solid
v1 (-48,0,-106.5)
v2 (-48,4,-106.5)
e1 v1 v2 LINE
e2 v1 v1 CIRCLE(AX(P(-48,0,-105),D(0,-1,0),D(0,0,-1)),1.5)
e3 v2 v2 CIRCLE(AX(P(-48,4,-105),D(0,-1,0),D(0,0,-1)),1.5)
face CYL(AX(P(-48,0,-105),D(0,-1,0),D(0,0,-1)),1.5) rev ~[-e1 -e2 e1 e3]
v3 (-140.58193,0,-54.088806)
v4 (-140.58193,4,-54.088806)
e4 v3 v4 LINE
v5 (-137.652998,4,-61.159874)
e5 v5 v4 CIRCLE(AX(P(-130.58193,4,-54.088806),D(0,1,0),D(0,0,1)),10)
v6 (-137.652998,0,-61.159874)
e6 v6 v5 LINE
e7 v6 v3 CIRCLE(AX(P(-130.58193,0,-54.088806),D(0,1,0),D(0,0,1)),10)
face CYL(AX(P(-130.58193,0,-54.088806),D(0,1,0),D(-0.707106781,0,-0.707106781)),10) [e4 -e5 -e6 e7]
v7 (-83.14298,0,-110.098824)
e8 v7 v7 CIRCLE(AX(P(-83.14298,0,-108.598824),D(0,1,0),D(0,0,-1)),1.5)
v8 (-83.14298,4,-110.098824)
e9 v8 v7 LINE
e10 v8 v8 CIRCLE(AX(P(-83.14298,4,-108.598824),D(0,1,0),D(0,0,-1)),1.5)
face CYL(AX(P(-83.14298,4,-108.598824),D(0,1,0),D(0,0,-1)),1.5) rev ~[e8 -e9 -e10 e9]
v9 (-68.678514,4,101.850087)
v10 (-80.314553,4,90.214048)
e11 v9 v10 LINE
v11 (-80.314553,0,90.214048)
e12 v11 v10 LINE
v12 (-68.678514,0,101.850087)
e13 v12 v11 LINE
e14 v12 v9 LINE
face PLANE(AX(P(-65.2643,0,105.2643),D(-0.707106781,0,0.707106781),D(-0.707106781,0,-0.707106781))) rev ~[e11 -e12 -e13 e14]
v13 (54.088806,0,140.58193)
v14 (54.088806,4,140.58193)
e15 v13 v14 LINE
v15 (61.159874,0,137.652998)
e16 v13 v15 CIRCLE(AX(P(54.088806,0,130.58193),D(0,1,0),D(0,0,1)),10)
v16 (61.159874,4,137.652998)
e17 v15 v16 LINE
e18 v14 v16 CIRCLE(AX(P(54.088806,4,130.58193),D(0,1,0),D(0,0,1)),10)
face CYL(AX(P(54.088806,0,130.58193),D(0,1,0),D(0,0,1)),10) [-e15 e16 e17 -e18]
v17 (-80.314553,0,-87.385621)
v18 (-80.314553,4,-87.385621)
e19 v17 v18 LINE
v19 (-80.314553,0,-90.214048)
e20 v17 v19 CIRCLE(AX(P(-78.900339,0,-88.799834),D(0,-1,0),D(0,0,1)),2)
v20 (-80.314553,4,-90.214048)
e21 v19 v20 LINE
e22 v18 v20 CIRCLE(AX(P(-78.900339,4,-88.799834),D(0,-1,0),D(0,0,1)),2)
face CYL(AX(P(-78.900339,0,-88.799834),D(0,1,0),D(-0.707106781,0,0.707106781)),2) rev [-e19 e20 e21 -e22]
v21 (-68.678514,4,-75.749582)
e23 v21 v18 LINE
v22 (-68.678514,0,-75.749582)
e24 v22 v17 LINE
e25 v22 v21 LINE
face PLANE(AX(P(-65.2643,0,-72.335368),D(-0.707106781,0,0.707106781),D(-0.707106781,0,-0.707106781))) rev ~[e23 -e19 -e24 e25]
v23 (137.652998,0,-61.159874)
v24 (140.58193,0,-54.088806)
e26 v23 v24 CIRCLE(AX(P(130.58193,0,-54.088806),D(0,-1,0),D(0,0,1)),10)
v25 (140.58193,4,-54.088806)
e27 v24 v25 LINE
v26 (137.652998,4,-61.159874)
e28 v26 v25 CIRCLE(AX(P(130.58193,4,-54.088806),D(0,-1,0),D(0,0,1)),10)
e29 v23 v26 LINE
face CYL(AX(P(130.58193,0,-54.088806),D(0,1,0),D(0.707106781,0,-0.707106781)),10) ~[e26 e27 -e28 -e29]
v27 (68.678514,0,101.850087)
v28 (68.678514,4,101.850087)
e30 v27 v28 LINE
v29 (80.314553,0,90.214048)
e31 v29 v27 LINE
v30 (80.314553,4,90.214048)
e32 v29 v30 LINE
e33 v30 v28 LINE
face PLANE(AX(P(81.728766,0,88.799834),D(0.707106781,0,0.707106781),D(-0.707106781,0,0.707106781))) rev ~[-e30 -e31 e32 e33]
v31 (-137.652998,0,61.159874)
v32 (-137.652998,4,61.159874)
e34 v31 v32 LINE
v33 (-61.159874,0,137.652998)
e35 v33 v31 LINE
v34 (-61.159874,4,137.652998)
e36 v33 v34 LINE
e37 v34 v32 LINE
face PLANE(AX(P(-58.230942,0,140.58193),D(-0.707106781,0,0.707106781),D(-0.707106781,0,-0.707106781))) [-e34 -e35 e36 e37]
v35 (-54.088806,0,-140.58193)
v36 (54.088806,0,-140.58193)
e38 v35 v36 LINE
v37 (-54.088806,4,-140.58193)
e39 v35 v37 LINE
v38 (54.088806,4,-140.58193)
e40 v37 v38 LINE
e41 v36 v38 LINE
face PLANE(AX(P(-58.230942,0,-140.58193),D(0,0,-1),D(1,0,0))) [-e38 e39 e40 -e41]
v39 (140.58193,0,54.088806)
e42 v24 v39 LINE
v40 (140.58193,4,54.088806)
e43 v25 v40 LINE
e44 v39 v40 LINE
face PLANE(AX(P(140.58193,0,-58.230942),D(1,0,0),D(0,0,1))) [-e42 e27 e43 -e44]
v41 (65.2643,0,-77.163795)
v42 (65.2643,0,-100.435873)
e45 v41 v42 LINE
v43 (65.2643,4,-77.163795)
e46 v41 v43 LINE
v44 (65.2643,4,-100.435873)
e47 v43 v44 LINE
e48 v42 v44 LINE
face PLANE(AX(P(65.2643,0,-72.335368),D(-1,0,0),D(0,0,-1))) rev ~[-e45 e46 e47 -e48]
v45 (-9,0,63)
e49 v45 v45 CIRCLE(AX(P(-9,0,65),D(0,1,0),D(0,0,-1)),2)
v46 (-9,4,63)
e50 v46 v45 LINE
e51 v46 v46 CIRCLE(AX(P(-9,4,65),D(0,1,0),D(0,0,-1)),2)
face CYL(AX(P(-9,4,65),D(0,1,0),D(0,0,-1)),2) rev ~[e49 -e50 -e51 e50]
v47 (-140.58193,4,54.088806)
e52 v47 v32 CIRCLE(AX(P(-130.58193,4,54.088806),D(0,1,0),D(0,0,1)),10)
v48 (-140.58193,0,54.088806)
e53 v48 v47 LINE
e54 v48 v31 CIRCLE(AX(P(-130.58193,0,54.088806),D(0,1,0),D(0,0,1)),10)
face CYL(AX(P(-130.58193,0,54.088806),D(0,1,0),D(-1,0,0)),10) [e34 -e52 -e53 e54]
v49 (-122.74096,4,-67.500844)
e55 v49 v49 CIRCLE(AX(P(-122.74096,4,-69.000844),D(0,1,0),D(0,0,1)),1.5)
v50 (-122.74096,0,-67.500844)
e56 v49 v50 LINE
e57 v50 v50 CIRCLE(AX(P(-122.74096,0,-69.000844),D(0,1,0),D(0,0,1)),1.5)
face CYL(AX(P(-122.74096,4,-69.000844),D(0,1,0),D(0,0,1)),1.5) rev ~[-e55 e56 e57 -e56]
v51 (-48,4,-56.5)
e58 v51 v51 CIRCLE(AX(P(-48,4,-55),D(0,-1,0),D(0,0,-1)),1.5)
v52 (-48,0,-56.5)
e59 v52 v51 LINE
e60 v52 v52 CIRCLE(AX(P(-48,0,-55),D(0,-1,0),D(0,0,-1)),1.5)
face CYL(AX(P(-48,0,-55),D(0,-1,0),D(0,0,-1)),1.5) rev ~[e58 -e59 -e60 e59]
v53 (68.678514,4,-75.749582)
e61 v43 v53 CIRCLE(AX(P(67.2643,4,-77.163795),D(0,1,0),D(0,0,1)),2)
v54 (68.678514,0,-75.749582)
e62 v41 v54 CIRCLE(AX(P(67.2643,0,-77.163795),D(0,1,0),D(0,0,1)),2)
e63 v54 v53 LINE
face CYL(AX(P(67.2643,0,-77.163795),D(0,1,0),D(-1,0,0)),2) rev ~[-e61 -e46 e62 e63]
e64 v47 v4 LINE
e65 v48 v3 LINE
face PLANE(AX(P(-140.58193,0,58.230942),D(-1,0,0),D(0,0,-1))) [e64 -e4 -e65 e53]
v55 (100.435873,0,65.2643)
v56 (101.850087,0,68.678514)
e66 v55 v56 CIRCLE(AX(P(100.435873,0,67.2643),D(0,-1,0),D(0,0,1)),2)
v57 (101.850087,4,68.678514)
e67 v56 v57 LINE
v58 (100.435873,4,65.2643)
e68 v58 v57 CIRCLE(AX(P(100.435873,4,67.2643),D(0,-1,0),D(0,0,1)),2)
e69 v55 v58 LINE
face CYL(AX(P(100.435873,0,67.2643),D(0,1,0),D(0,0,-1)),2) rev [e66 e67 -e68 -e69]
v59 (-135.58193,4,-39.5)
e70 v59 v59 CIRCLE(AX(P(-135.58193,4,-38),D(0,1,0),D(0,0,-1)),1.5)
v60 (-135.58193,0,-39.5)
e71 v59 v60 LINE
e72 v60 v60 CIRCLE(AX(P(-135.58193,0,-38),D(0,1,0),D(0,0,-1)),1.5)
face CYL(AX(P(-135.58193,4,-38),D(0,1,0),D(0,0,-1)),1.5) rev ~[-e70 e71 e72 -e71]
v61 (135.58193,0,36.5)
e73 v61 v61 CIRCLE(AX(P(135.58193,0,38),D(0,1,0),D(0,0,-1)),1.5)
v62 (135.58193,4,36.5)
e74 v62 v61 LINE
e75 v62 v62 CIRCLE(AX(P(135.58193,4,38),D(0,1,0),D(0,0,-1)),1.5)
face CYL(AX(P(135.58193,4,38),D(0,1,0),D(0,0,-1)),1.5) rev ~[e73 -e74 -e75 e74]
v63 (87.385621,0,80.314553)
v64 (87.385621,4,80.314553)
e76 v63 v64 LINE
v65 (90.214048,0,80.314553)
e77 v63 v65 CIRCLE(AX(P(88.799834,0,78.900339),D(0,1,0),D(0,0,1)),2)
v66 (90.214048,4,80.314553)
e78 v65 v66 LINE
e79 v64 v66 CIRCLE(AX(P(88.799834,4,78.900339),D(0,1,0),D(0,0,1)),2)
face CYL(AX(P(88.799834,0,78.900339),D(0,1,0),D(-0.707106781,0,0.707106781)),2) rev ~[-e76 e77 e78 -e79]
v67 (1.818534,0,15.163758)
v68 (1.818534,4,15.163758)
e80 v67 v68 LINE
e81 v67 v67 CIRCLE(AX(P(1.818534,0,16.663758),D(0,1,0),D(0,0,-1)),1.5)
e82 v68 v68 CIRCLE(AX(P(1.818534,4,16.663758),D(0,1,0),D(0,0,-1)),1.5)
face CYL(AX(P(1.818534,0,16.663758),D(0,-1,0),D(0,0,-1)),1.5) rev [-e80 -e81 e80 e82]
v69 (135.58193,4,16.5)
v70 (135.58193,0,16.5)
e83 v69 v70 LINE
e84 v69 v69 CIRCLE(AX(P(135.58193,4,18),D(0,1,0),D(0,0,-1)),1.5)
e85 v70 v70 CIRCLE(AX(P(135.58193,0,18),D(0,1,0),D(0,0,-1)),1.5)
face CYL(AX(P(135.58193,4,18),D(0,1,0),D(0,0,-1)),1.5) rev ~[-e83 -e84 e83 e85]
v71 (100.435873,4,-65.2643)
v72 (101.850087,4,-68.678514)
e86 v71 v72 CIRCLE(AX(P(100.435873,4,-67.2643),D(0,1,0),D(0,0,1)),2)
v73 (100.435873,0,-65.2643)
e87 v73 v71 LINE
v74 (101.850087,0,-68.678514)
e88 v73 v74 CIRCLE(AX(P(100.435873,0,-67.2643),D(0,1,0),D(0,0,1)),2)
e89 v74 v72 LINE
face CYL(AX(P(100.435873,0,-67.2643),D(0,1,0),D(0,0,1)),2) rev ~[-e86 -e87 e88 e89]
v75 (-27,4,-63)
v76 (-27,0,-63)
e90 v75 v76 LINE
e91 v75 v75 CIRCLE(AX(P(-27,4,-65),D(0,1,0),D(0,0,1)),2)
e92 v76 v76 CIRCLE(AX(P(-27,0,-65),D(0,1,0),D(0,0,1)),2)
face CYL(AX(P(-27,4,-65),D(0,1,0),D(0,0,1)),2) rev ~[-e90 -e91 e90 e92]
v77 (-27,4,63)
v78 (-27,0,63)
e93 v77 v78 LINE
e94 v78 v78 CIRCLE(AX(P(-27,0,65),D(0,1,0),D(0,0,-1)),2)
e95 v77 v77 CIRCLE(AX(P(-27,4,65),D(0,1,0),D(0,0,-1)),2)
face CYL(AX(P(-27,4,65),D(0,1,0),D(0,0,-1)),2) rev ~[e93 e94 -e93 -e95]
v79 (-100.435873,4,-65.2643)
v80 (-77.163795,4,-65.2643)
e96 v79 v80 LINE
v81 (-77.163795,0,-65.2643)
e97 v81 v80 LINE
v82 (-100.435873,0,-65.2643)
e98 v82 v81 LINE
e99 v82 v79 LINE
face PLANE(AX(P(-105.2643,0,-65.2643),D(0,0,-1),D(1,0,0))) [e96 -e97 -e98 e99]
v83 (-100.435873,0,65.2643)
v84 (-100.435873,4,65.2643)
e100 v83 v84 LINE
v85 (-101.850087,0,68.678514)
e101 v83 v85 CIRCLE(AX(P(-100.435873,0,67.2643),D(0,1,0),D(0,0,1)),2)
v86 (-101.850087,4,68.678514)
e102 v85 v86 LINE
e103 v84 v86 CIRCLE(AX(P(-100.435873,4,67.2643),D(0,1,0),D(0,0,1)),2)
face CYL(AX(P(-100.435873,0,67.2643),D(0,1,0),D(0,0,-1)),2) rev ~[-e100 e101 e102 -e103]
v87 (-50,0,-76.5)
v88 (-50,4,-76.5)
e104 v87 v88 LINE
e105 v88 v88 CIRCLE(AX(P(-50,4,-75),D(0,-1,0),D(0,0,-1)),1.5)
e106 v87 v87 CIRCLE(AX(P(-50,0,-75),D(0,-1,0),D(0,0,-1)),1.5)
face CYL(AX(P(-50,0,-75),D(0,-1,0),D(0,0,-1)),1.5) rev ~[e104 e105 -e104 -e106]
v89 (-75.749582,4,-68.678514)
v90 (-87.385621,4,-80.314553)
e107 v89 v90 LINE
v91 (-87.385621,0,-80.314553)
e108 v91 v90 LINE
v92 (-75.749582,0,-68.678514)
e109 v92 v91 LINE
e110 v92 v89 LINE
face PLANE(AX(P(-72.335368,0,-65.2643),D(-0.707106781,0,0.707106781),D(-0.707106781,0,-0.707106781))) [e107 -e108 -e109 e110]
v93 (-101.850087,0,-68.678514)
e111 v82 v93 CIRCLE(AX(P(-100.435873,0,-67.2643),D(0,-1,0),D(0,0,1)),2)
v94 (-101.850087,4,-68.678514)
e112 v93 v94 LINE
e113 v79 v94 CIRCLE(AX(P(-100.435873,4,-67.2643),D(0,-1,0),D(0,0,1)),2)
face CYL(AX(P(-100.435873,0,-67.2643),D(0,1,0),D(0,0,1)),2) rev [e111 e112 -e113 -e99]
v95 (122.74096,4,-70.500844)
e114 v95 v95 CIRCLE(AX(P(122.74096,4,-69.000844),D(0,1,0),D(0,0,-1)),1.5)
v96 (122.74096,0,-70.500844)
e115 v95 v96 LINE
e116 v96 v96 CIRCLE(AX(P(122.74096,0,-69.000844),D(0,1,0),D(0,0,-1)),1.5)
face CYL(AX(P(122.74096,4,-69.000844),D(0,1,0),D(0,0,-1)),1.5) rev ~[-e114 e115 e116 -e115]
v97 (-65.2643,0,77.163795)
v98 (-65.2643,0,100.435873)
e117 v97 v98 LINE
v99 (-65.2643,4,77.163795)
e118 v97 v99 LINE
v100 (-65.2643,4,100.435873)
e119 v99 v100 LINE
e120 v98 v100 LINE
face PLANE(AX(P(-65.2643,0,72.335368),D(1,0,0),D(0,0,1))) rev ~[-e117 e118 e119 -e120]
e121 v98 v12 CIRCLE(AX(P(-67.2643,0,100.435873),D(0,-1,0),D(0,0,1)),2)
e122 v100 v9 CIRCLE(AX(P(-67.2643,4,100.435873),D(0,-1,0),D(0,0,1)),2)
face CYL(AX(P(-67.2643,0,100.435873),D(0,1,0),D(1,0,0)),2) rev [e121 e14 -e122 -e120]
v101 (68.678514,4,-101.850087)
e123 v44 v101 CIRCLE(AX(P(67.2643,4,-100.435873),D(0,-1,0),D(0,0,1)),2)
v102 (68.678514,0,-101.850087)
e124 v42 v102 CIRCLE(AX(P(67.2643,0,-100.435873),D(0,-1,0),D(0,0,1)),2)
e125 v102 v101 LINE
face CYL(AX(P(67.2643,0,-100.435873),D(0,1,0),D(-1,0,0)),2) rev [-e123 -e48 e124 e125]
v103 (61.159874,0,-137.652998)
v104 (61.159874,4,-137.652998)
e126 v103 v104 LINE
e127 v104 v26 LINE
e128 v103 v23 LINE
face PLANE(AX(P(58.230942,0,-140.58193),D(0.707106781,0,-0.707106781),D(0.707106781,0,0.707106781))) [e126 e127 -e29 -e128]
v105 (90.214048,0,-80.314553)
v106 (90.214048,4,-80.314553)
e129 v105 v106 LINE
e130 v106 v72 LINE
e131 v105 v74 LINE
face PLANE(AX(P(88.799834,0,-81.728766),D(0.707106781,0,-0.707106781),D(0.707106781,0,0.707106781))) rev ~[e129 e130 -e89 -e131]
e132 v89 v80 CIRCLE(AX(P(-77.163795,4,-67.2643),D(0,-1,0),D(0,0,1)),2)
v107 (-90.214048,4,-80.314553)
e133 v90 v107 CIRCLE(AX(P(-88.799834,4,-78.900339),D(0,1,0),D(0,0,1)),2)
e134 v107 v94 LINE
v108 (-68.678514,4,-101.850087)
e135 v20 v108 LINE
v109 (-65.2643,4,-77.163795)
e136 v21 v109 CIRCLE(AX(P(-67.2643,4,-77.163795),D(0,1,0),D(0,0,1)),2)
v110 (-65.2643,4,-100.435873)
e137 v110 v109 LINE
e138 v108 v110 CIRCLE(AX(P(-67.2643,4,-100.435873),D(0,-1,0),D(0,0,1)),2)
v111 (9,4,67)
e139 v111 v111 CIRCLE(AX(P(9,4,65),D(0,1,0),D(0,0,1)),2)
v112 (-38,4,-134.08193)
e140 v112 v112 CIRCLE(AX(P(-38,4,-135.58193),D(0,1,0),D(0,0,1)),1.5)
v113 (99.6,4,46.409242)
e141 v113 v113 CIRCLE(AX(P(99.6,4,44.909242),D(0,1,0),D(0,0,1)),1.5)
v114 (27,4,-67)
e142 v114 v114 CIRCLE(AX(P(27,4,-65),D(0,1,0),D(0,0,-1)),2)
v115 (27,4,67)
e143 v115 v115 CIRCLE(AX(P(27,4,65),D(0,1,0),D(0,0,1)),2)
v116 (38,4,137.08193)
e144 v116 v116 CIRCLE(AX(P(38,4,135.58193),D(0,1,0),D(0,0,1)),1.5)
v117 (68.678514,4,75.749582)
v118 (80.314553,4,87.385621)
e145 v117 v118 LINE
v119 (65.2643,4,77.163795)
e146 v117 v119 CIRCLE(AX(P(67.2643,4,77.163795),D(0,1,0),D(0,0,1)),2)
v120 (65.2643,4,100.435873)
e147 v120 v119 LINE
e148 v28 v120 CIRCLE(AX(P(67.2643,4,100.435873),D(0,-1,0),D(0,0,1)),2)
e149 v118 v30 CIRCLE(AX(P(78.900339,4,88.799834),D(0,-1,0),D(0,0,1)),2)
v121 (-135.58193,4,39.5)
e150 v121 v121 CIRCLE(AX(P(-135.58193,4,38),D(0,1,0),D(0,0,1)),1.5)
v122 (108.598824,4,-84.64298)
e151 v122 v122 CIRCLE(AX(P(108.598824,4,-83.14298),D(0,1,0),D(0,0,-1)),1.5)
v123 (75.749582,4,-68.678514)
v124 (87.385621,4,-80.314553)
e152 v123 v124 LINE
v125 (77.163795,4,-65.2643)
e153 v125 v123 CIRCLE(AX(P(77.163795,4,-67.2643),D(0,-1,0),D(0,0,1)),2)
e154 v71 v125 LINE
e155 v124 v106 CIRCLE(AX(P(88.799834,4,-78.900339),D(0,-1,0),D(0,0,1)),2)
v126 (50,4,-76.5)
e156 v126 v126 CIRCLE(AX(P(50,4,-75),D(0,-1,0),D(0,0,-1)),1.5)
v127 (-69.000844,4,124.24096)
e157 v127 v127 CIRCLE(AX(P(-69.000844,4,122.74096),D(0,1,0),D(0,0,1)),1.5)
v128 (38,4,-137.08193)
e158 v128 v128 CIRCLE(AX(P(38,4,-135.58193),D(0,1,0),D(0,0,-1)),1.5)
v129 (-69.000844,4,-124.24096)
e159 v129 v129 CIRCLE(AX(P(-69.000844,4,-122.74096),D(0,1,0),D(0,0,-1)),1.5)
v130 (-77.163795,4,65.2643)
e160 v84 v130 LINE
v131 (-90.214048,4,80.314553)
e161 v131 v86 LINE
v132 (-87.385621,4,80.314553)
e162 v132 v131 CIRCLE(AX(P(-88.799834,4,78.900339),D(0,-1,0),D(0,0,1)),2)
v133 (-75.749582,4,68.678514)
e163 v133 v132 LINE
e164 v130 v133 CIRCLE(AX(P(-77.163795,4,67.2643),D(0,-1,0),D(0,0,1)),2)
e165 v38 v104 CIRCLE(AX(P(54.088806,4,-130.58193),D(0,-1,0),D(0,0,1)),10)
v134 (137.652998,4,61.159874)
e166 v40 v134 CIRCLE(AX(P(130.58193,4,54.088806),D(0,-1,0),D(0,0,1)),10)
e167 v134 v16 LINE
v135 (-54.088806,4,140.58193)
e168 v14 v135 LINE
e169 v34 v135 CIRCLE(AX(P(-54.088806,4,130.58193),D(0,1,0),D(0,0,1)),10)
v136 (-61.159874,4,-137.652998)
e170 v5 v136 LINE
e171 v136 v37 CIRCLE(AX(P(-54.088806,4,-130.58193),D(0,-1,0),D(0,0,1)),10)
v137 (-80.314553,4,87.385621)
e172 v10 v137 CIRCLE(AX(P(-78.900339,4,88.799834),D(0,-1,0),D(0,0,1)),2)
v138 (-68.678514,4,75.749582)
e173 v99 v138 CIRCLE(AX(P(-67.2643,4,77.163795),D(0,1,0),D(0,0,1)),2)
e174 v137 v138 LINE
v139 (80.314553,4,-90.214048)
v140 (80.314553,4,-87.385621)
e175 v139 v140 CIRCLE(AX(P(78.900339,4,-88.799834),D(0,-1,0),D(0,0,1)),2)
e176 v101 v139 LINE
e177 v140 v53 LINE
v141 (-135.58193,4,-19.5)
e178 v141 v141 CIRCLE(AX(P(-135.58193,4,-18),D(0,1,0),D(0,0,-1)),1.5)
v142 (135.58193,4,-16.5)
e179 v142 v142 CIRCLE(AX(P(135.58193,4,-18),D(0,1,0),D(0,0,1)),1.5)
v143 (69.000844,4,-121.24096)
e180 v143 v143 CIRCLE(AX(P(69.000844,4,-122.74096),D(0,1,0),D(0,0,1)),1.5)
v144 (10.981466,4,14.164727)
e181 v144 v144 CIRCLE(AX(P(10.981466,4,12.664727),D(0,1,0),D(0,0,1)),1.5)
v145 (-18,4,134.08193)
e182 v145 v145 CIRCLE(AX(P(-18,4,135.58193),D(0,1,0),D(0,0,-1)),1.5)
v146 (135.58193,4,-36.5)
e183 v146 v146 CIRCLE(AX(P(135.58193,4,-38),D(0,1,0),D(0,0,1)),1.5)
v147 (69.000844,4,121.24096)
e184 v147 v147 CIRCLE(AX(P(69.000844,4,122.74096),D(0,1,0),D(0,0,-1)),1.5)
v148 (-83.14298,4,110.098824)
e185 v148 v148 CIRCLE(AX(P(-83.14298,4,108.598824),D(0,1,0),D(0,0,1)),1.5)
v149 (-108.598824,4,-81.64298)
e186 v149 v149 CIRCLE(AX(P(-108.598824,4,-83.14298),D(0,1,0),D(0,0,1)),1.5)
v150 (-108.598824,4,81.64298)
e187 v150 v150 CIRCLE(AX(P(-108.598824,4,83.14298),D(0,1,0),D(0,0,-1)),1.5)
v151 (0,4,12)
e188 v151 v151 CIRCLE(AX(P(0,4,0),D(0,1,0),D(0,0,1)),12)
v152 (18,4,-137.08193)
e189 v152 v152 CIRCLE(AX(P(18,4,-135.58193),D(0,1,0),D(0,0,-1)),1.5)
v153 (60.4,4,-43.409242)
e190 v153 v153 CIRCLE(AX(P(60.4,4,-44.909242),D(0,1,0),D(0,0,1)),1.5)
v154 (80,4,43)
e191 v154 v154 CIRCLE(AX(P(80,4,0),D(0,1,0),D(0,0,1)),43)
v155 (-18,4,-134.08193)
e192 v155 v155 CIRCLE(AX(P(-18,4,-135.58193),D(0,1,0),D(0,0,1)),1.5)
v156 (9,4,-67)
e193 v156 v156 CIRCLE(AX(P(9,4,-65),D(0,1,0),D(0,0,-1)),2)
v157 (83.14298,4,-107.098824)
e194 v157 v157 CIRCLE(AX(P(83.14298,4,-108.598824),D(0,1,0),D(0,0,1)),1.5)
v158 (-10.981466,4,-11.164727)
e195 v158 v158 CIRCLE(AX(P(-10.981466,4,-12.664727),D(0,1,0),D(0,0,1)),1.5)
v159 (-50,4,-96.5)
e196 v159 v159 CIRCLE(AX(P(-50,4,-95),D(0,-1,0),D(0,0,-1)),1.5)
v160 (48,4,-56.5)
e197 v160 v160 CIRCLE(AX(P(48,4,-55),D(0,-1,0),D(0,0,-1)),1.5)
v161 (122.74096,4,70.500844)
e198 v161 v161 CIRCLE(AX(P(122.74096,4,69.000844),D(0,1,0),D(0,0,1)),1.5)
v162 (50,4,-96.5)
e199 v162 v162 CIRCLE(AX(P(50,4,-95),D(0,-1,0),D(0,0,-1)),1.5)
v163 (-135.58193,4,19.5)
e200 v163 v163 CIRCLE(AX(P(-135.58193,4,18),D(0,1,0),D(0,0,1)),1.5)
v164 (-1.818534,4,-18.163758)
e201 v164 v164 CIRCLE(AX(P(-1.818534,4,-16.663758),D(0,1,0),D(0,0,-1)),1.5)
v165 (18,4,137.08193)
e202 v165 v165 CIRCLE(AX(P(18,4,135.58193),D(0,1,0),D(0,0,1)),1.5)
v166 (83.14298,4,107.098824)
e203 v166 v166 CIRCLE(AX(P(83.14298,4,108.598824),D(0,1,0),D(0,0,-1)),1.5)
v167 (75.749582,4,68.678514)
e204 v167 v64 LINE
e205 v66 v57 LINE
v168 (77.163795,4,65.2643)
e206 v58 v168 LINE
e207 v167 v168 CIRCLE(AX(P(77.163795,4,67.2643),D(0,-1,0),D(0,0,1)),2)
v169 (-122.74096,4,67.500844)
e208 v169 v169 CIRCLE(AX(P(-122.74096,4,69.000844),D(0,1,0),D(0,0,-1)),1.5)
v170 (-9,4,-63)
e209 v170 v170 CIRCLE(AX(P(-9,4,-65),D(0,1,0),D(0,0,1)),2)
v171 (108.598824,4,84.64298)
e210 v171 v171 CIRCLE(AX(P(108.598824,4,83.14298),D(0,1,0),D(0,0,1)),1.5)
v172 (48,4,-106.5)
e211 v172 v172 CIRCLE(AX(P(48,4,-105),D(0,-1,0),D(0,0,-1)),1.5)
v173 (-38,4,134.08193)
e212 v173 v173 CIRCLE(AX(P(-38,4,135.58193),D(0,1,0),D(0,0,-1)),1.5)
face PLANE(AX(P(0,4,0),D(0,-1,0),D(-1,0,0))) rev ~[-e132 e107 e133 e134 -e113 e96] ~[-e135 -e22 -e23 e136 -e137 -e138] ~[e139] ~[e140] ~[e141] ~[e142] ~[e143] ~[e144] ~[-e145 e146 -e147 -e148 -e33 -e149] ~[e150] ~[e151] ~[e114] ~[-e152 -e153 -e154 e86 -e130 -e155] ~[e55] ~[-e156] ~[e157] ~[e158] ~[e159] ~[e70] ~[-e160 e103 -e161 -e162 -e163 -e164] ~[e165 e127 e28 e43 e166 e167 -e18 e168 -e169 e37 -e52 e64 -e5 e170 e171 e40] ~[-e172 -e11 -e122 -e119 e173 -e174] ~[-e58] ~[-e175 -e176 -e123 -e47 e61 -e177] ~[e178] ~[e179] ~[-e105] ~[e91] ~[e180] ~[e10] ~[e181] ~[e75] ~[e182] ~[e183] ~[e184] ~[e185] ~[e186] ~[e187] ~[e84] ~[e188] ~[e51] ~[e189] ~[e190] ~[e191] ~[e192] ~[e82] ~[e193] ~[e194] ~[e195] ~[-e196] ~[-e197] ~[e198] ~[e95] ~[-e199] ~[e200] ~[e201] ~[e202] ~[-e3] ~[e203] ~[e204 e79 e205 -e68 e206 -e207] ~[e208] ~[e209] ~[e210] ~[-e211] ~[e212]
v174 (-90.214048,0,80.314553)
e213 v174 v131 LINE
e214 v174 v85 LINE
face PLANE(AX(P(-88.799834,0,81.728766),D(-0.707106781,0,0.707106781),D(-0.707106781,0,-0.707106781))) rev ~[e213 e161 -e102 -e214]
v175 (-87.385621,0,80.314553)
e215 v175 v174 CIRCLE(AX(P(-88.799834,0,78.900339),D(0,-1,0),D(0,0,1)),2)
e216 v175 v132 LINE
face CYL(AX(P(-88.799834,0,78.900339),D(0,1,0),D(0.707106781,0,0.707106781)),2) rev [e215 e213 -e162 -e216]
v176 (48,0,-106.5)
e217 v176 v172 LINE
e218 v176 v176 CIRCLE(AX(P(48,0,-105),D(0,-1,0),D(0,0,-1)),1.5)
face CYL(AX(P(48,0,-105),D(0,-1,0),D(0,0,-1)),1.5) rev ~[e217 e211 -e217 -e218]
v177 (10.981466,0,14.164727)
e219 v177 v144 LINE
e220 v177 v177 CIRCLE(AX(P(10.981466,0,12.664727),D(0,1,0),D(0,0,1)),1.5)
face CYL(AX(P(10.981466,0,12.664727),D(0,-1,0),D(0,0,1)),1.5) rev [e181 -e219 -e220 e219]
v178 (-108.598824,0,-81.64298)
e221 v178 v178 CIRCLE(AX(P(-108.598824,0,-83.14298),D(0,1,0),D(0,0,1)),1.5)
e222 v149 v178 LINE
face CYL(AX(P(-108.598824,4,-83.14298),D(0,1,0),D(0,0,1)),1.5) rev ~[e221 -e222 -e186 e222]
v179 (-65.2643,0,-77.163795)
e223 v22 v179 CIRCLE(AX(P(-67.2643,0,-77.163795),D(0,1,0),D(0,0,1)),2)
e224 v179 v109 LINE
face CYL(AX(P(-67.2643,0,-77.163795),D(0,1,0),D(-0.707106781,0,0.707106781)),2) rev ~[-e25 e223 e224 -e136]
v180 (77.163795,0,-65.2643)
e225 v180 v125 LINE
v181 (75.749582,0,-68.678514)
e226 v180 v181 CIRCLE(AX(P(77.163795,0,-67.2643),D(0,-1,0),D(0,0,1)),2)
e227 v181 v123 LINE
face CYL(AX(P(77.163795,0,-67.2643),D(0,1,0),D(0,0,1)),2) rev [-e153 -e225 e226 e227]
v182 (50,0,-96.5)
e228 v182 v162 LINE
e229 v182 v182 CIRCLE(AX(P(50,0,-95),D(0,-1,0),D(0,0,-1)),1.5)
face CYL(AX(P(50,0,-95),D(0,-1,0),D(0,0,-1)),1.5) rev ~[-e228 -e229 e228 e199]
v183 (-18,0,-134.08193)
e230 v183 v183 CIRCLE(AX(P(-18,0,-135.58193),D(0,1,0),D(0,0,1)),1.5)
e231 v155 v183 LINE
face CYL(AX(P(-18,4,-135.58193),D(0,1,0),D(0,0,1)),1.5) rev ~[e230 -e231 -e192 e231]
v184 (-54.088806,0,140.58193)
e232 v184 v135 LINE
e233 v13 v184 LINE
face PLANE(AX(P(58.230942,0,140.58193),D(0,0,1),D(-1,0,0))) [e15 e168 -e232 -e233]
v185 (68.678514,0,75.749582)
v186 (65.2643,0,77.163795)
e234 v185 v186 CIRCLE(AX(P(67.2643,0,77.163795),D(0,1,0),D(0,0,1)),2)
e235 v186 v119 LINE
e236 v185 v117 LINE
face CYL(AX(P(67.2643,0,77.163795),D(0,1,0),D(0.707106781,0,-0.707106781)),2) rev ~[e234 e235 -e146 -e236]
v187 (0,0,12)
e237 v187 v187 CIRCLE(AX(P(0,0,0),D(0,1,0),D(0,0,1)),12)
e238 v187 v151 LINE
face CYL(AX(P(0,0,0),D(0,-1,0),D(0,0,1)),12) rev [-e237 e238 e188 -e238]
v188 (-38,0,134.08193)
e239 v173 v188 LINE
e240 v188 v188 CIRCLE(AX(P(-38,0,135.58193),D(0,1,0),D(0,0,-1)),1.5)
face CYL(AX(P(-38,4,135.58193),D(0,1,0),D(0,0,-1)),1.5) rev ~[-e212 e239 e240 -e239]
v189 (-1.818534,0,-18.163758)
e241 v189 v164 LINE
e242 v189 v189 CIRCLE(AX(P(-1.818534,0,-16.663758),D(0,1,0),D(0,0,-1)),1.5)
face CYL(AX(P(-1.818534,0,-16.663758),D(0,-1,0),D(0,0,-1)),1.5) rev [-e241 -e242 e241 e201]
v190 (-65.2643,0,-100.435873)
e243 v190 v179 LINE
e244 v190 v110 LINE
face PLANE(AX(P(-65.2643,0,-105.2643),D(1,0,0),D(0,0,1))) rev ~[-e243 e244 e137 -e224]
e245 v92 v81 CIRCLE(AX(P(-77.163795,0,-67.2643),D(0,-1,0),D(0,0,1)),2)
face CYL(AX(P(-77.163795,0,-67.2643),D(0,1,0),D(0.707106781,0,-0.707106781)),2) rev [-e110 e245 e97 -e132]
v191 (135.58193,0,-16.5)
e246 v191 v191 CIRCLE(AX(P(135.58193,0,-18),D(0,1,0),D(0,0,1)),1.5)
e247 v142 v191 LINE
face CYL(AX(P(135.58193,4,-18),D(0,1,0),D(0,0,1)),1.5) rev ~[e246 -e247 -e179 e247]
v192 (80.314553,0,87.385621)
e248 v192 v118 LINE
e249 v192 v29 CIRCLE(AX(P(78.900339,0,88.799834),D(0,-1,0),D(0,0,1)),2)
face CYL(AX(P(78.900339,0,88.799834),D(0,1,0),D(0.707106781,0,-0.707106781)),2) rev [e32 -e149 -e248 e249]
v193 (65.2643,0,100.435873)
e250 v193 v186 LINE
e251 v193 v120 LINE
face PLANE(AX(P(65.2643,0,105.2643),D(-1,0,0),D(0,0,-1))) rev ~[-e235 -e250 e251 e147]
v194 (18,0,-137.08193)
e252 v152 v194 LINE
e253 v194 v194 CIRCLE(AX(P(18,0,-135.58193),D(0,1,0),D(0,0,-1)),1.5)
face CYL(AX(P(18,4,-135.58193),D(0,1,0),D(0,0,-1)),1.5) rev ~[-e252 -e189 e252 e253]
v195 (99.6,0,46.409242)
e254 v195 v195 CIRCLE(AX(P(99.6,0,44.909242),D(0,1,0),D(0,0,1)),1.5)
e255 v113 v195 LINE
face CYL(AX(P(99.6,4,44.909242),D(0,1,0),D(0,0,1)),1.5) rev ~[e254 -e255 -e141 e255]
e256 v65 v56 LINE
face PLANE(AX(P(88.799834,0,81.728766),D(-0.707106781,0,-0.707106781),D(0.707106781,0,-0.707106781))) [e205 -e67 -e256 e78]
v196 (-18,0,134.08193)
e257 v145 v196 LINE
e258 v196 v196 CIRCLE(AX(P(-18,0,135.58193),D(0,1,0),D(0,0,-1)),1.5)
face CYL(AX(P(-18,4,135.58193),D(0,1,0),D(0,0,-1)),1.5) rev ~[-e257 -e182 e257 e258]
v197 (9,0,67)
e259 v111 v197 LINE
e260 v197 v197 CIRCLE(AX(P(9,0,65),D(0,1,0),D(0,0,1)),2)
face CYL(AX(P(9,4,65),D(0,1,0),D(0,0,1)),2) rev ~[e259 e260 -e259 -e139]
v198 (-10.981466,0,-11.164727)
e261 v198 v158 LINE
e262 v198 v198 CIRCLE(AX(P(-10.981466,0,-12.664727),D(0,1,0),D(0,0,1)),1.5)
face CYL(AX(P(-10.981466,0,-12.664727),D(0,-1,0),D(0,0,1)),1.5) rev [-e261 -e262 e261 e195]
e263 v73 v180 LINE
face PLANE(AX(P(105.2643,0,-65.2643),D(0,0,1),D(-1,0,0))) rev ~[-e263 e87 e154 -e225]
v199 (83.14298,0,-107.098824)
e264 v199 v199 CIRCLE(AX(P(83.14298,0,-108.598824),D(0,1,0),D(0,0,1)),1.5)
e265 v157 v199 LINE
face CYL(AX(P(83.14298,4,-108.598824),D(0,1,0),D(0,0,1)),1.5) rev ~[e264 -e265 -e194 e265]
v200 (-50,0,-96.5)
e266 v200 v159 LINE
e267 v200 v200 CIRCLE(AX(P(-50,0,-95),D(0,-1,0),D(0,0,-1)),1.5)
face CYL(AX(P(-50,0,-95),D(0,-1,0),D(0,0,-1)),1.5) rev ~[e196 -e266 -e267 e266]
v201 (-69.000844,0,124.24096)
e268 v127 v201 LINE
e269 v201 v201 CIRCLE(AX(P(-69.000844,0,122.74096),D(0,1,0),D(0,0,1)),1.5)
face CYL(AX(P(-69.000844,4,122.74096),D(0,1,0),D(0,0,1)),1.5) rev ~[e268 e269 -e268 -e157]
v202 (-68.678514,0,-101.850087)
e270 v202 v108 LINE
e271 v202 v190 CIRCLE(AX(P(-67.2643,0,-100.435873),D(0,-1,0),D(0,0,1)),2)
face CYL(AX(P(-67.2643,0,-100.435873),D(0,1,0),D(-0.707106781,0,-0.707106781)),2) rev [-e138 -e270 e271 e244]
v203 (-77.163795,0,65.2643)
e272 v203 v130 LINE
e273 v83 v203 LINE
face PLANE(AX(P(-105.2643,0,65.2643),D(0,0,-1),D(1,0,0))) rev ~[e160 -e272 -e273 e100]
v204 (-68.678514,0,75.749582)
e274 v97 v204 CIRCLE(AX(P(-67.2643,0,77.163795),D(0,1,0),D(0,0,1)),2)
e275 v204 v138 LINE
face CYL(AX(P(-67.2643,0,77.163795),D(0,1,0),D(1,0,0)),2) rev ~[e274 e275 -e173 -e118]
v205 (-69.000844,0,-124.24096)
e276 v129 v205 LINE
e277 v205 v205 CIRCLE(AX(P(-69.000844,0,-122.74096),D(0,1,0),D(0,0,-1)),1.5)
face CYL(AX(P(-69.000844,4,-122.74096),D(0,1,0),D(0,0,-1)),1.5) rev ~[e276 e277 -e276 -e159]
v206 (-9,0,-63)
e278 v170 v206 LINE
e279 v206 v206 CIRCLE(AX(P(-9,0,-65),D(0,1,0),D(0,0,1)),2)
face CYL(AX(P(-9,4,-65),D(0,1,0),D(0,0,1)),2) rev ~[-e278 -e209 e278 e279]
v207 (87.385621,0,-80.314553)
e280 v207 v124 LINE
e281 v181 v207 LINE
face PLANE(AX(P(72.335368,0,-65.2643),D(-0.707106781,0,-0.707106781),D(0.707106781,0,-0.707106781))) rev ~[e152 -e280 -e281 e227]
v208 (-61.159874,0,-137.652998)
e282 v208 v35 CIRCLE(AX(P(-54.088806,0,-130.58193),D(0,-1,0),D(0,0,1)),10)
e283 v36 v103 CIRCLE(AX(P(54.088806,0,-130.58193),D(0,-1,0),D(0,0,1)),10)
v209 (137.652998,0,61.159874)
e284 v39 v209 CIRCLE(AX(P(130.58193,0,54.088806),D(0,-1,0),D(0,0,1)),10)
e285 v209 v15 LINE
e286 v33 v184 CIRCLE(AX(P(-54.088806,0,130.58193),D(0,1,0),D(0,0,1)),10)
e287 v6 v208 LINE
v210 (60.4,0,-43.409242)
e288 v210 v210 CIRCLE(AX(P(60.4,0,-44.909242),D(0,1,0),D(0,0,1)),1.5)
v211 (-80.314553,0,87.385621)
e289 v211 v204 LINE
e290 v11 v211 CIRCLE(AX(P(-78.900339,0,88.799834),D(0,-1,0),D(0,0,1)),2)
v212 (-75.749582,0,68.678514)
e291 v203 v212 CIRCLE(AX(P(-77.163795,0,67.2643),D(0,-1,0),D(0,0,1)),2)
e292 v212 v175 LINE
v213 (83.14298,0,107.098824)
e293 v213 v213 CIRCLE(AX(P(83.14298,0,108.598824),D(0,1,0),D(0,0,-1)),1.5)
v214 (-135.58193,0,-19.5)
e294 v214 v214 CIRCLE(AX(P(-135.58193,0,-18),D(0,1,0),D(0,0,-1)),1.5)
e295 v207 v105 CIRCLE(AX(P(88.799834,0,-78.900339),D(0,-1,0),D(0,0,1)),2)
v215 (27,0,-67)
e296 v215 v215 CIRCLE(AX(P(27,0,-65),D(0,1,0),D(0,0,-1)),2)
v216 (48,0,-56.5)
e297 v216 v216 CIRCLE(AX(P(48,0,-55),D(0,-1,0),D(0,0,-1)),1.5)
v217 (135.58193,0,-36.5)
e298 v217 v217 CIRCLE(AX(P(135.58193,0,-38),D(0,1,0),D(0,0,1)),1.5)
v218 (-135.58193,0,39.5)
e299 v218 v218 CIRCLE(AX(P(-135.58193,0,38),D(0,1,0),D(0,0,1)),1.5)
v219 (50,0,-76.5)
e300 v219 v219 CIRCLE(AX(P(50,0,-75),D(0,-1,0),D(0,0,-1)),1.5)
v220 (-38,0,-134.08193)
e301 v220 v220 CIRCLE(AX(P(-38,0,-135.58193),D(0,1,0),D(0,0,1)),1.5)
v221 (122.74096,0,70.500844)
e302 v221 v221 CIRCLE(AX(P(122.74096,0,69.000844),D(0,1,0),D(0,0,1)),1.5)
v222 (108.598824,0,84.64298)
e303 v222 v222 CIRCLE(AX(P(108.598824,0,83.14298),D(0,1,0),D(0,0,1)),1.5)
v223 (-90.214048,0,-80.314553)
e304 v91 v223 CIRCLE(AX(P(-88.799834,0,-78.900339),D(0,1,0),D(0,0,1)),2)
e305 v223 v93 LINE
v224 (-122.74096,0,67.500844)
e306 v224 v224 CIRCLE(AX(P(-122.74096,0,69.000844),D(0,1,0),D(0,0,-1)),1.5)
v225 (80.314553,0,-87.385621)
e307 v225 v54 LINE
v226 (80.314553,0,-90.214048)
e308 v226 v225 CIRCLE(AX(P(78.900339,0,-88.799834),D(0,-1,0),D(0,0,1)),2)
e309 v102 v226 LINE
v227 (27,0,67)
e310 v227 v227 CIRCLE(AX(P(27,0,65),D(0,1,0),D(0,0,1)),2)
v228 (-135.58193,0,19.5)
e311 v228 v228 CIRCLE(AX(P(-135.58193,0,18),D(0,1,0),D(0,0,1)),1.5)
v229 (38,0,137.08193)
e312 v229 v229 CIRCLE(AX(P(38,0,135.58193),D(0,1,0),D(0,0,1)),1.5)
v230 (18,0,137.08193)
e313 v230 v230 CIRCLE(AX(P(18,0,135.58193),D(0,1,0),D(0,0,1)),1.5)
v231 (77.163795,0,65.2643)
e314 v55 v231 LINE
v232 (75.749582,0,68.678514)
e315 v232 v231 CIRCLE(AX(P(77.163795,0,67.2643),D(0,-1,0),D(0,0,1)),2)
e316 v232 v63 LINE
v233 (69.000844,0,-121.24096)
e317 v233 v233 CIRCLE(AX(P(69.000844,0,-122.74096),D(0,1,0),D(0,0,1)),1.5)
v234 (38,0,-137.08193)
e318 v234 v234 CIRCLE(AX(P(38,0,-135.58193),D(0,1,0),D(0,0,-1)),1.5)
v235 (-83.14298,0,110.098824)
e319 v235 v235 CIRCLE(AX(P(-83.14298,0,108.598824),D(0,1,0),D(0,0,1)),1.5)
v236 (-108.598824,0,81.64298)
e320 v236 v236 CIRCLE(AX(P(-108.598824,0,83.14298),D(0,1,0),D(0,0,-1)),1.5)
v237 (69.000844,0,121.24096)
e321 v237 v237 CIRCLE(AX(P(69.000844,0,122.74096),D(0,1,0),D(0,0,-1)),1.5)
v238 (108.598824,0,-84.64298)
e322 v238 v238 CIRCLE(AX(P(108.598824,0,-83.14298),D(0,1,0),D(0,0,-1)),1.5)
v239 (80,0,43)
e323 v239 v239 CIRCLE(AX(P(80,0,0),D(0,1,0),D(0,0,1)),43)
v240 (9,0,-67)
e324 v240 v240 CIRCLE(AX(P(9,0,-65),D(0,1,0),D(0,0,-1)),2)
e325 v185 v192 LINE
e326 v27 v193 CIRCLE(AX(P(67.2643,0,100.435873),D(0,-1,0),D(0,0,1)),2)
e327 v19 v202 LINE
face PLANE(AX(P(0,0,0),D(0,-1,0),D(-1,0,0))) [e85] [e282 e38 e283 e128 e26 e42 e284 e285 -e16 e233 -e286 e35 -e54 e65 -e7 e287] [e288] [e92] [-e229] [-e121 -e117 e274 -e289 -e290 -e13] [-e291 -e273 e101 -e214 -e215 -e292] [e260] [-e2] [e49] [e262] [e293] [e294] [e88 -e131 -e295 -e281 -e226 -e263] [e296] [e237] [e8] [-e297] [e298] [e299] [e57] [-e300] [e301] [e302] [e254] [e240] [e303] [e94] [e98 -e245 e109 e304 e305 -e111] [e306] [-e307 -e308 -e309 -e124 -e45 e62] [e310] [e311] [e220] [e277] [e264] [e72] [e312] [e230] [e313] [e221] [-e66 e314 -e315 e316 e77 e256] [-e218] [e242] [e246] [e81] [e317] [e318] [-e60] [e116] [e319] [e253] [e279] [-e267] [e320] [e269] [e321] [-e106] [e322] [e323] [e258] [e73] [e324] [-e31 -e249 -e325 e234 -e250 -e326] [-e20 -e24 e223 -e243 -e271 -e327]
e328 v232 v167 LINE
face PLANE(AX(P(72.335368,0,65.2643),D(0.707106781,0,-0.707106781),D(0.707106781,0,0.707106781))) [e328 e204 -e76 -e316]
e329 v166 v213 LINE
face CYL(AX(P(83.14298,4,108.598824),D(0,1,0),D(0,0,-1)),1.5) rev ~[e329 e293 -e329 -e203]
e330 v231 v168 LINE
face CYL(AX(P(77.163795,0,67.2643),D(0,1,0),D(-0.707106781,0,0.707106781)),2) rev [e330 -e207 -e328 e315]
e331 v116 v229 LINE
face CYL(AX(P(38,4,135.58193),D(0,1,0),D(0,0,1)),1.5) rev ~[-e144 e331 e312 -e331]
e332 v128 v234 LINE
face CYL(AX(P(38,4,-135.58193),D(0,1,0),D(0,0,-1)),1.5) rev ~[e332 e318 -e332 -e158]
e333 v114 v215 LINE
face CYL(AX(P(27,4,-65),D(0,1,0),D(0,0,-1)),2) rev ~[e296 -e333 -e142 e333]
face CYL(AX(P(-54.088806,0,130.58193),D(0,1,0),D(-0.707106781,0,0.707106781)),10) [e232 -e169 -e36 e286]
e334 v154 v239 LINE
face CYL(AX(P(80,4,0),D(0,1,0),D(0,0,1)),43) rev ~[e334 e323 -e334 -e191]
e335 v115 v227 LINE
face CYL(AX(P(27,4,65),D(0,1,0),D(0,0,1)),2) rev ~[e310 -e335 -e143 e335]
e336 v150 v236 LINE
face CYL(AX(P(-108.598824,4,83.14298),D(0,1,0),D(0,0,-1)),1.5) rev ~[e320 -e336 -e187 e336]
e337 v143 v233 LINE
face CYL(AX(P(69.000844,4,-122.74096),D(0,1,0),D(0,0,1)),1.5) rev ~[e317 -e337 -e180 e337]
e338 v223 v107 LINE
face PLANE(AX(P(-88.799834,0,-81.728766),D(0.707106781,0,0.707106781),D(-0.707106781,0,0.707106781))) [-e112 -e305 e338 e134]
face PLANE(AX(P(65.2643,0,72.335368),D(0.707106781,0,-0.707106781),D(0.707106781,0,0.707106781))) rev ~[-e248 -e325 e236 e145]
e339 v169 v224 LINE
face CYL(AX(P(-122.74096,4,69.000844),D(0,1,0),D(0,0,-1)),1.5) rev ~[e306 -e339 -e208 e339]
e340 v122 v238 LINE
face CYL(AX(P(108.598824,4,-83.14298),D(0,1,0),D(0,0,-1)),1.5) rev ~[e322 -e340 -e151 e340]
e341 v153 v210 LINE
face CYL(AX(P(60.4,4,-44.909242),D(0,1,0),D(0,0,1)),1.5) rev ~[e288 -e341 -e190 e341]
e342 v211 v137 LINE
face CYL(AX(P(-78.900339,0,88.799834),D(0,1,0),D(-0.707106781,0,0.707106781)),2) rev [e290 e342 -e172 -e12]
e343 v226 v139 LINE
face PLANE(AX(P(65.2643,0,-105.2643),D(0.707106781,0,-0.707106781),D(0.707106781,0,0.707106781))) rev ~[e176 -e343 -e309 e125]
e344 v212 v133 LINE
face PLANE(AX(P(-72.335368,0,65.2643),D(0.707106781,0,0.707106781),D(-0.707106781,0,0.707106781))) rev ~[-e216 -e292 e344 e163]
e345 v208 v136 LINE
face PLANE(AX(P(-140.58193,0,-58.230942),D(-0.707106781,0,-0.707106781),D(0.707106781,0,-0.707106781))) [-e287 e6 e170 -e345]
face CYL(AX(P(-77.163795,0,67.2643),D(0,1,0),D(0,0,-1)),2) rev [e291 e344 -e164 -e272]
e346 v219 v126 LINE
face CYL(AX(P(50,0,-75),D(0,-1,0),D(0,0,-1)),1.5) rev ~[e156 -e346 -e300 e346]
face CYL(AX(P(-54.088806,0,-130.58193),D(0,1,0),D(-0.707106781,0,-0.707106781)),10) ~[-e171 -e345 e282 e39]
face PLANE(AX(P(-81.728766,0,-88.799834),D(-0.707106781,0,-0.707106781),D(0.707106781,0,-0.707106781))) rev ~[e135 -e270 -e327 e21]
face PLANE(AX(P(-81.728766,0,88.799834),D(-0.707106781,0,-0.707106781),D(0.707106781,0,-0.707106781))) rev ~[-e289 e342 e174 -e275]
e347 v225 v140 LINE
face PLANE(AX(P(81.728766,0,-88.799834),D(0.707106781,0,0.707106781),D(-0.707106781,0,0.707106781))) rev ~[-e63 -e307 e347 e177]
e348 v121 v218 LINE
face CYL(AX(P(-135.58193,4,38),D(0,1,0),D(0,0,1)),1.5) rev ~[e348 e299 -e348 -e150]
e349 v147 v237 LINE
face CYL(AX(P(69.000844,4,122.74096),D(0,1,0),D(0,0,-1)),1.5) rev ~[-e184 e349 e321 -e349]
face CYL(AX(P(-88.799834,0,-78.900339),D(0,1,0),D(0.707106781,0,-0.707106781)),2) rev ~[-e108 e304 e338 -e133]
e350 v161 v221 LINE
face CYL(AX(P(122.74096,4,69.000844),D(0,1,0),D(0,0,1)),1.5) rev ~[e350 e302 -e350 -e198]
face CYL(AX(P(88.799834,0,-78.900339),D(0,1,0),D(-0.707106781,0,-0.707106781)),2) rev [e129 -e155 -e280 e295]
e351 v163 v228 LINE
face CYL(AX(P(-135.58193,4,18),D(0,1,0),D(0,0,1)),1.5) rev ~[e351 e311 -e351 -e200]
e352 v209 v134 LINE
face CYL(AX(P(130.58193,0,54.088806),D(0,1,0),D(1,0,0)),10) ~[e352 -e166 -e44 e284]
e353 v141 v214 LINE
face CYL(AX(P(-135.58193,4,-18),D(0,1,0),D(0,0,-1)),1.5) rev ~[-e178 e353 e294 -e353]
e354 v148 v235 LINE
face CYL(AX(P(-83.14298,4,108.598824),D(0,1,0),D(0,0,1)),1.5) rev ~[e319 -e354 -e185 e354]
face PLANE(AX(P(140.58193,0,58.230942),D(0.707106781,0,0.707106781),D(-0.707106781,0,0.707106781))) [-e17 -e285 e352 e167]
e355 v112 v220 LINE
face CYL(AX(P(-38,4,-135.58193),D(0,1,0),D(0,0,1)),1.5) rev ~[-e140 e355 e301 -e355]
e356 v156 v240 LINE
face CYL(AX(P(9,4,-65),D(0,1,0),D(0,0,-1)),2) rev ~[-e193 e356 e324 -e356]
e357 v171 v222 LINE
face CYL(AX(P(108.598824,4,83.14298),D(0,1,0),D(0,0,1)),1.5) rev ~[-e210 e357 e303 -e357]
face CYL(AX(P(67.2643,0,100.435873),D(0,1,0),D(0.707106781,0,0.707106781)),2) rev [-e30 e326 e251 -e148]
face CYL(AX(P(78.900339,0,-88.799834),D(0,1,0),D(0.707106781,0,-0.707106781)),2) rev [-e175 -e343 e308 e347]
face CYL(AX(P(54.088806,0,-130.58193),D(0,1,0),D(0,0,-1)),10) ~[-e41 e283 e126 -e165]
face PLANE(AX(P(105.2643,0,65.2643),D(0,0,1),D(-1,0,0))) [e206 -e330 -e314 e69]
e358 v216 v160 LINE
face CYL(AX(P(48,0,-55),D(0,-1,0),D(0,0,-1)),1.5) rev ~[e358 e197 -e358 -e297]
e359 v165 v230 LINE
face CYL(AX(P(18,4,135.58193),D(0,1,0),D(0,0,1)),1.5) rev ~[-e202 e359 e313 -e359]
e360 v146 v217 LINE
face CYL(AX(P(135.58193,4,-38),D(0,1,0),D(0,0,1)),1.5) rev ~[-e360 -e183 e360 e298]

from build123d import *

# Parameters (mm, degrees)
SKETCH_1_R          = 12
SKETCH_1_R_2        = 1.5
EXTRUDE_1_DEPTH     = 4
SKETCH_2_R          = 1.5
SKETCH_2_R_2        = 43
CUT_EXTRUDE_1_DEPTH = 10
SKETCH_3_R          = 1.5
SKETCH_3_R_2        = 2
CUT_EXTRUDE_2_DEPTH = 10
FILLET_3_R          = 10
SKETCH_4_R          = 1.5
CUT_EXTRUDE_3_DEPTH = 10
CUT_EXTRUDE_4_DEPTH = 10
FILLET_4_R          = 2


with BuildPart() as part:
    # 草图1 → 凸台-拉伸1 (new body)
    with BuildSketch(Plane(origin=(0, 0, 0), x_dir=(1, 0, 0), z_dir=(0, 1, 0))):
        Polygon((-140.581929877, 58.23094198), (-58.23094198, 140.581929877), (58.23094198, 140.581929877), (140.581929877, 58.23094198), (140.581929877, -58.23094198), (58.23094198, -140.581929877), (-58.23094198, -140.581929877), (-140.581929877, -58.23094198), align=None)
        with Locations(Location((0, 0, 0), (0, 0, 270))):
            Circle(SKETCH_1_R, mode=Mode.SUBTRACT)
        with Locations(Location((-10.981465686, 12.664726672, 0), (0, 0, 270))):
            Circle(SKETCH_1_R_2, mode=Mode.SUBTRACT)
        with Locations(Location((-1.818534314, 16.663757776, 0), (0, 0, 90))):
            Circle(SKETCH_1_R_2, mode=Mode.SUBTRACT)
        with Locations(Location((1.818534314, -16.663757776, 0), (0, 0, 90))):
            Circle(SKETCH_1_R_2, mode=Mode.SUBTRACT)
        with Locations(Location((10.981465686, -12.664726672, 0), (0, 0, 270))):
            Circle(SKETCH_1_R_2, mode=Mode.SUBTRACT)
    extrude(amount=EXTRUDE_1_DEPTH)

    # 草图2 → 切除-拉伸1 (cut)
    with BuildSketch(Plane(origin=(0, 4, 0), x_dir=(1, 0, 0), z_dir=(0, 1, 0))):
        with Locations(Location((60.4, 44.909241811, 0), (0, 0, 270))):
            Circle(SKETCH_2_R)
        with Locations(Location((99.6, -44.909241811, 0), (0, 0, 270))):
            Circle(SKETCH_2_R)
        with Locations(Location((80, 0, 0), (0, 0, 270))):
            Circle(SKETCH_2_R_2)
    extrude(amount=-CUT_EXTRUDE_1_DEPTH, mode=Mode.SUBTRACT)

    # 草图3 → 切除-拉伸2 (cut)
    with BuildSketch(Plane(origin=(0, 4, 0), x_dir=(1, 0, 0), z_dir=(0, 1, 0))):
        with Locations(Location((-38, 135.581929877, 0), (0, 0, 270))):
            Circle(SKETCH_3_R)
        with Locations(Location((-18, 135.581929877, 0), (0, 0, 270))):
            Circle(SKETCH_3_R)
        with Locations(Location((18, 135.581929877, 0), (0, 0, 90))):
            Circle(SKETCH_3_R)
        with Locations(Location((38, 135.581929877, 0), (0, 0, 90))):
            Circle(SKETCH_3_R)
        with Locations(Location((69.000844337, 122.740959707, 0), (0, 0, 270))):
            Circle(SKETCH_3_R)
        with Locations(Location((83.142979961, 108.598824084, 0), (0, 0, 270))):
            Circle(SKETCH_3_R)
        with Locations(Location((108.598824084, 83.142979961, 0), (0, 0, 90))):
            Circle(SKETCH_3_R)
        with Locations(Location((122.740959707, 69.000844337, 0), (0, 0, 90))):
            Circle(SKETCH_3_R)
        with Locations(Location((135.581929877, 38, 0), (0, 0, 270))):
            Circle(SKETCH_3_R)
        with Locations(Location((135.581929877, 18, 0), (0, 0, 270))):
            Circle(SKETCH_3_R)
        with Locations(Location((135.581929877, -18, 0), (0, 0, 90))):
            Circle(SKETCH_3_R)
        with Locations(Location((135.581929877, -38, 0), (0, 0, 90))):
            Circle(SKETCH_3_R)
        with Locations(Location((122.740959707, -69.000844337, 0), (0, 0, 270))):
            Circle(SKETCH_3_R)
        with Locations(Location((108.598824084, -83.142979961, 0), (0, 0, 270))):
            Circle(SKETCH_3_R)
        with Locations(Location((83.142979961, -108.598824084, 0), (0, 0, 90))):
            Circle(SKETCH_3_R)
        with Locations(Location((69.000844337, -122.740959707, 0), (0, 0, 90))):
            Circle(SKETCH_3_R)
        with Locations(Location((38, -135.581929877, 0), (0, 0, 270))):
            Circle(SKETCH_3_R)
        with Locations(Location((18, -135.581929877, 0), (0, 0, 270))):
            Circle(SKETCH_3_R)
        with Locations(Location((-18, -135.581929877, 0), (0, 0, 90))):
            Circle(SKETCH_3_R)
        with Locations(Location((-38, -135.581929877, 0), (0, 0, 90))):
            Circle(SKETCH_3_R)
        with Locations(Location((-69.000844337, -122.740959707, 0), (0, 0, 270))):
            Circle(SKETCH_3_R)
        with Locations(Location((-83.142979961, -108.598824084, 0), (0, 0, 270))):
            Circle(SKETCH_3_R)
        with Locations(Location((-108.598824084, -83.142979961, 0), (0, 0, 90))):
            Circle(SKETCH_3_R)
        with Locations(Location((-122.740959707, -69.000844337, 0), (0, 0, 90))):
            Circle(SKETCH_3_R)
        with Locations(Location((-135.581929877, -38, 0), (0, 0, 270))):
            Circle(SKETCH_3_R)
        with Locations(Location((-135.581929877, -18, 0), (0, 0, 270))):
            Circle(SKETCH_3_R)
        with Locations(Location((-135.581929877, 18, 0), (0, 0, 90))):
            Circle(SKETCH_3_R)
        with Locations(Location((-135.581929877, 38, 0), (0, 0, 90))):
            Circle(SKETCH_3_R)
        with Locations(Location((-122.740959707, 69.000844337, 0), (0, 0, 270))):
            Circle(SKETCH_3_R)
        with Locations(Location((-108.598824084, 83.142979961, 0), (0, 0, 270))):
            Circle(SKETCH_3_R)
        with Locations(Location((-83.142979961, 108.598824084, 0), (0, 0, 90))):
            Circle(SKETCH_3_R)
        with Locations(Location((-69.000844337, 122.740959707, 0), (0, 0, 90))):
            Circle(SKETCH_3_R)
        with Locations(Location((-27, 65, 0), (0, 0, 270))):
            Circle(SKETCH_3_R_2)
        with Locations(Location((-9, 65, 0), (0, 0, 270))):
            Circle(SKETCH_3_R_2)
        with Locations(Location((9, 65, 0), (0, 0, 90))):
            Circle(SKETCH_3_R_2)
        with Locations(Location((27, 65, 0), (0, 0, 90))):
            Circle(SKETCH_3_R_2)
        with Locations(Location((27, -65, 0), (0, 0, 270))):
            Circle(SKETCH_3_R_2)
        with Locations(Location((9, -65, 0), (0, 0, 270))):
            Circle(SKETCH_3_R_2)
        with Locations(Location((-9, -65, 0), (0, 0, 90))):
            Circle(SKETCH_3_R_2)
        with Locations(Location((-27, -65, 0), (0, 0, 90))):
            Circle(SKETCH_3_R_2)
    extrude(amount=-CUT_EXTRUDE_2_DEPTH, mode=Mode.SUBTRACT)

    # 圆角3
    fillet_3_edges = [part.edges().sort_by_distance(p)[0] for p in [
        (-140.581929877, 2, -58.23094198),
        (-58.23094198, 2, -140.581929877),
        (58.23094198, 2, -140.581929877),
        (140.581929877, 2, -58.23094198),
        (140.581929877, 2, 58.23094198),
        (58.23094198, 2, 140.581929877),
        (-58.23094198, 2, 140.581929877),
        (-140.581929877, 2, 58.23094198),
    ]]
    fillet(fillet_3_edges, radius=FILLET_3_R)

    # 草图4 → 切除-拉伸3 (cut)
    with BuildSketch(Plane.XZ):
        with Locations(Location((-50, -75, 0), (0, 0, 270))):
            Circle(SKETCH_4_R)
        with Locations(Location((-50, -95, 0), (0, 0, 270))):
            Circle(SKETCH_4_R)
        with Locations(Location((50, -95, 0), (0, 0, 270))):
            Circle(SKETCH_4_R)
        with Locations(Location((50, -75, 0), (0, 0, 270))):
            Circle(SKETCH_4_R)
        with Locations(Location((-48, -55, 0), (0, 0, 270))):
            Circle(SKETCH_4_R)
        with Locations(Location((48, -55, 0), (0, 0, 270))):
            Circle(SKETCH_4_R)
        with Locations(Location((-48, -105, 0), (0, 0, 270))):
            Circle(SKETCH_4_R)
        with Locations(Location((48, -105, 0), (0, 0, 270))):
            Circle(SKETCH_4_R)
    extrude(amount=-CUT_EXTRUDE_3_DEPTH, mode=Mode.SUBTRACT)

    # 草图5 → 切除-拉伸4 (cut)
    with BuildSketch(Plane.XZ):
        Polygon((65.264300304, -72.335368116), (65.264300304, -105.264300304), (81.728766398, -88.79983421), align=None)
        Polygon((105.264300304, -65.264300304), (72.335368116, -65.264300304), (88.79983421, -81.728766398), align=None)
        Polygon((65.264300304, 72.335368116), (81.728766398, 88.79983421), (65.264300304, 105.264300304), align=None)
        Polygon((88.79983421, 81.728766398), (105.264300304, 65.264300304), (72.335368116, 65.264300304), align=None)
        Polygon((-105.264300304, 65.264300304), (-72.335368116, 65.264300304), (-88.79983421, 81.728766398), align=None)
        Polygon((-65.264300304, 72.335368116), (-65.264300304, 105.264300304), (-81.728766398, 88.79983421), align=None)
        Polygon((-88.79983421, -81.728766398), (-105.264300304, -65.264300304), (-72.335368116, -65.264300304), align=None)
        Polygon((-65.264300304, -72.335368116), (-81.728766398, -88.79983421), (-65.264300304, -105.264300304), align=None)
    extrude(amount=-CUT_EXTRUDE_4_DEPTH, mode=Mode.SUBTRACT)

    # 圆角4
    fillet_4_edges = [part.edges().sort_by_distance(p)[0] for p in [
        (-105.264300304, 2, -65.264300304),
        (-72.335368116, 2, -65.264300304),
        (-88.79983421, 2, -81.728766398),
        (72.335368116, 2, 65.264300304),
        (88.79983421, 2, 81.728766398),
        (105.264300304, 2, 65.264300304),
        (65.264300304, 2, 72.335368116),
        (65.264300304, 2, 105.264300304),
        (81.728766398, 2, 88.79983421),
        (105.264300304, 2, -65.264300304),
        (88.79983421, 2, -81.728766398),
        (72.335368116, 2, -65.264300304),
        (-65.264300304, 2, 72.335368116),
        (-81.728766398, 2, 88.79983421),
        (-65.264300304, 2, 105.264300304),
        (-65.264300304, 2, -72.335368116),
        (-65.264300304, 2, -105.264300304),
        (-81.728766398, 2, -88.79983421),
        (-105.264300304, 2, 65.264300304),
        (-88.79983421, 2, 81.728766398),
        (-72.335368116, 2, 65.264300304),
        (81.728766398, 2, -88.79983421),
        (65.264300304, 2, -105.264300304),
        (65.264300304, 2, -72.335368116),
    ]]
    fillet(fillet_4_edges, radius=FILLET_4_R)


solid = part.part
